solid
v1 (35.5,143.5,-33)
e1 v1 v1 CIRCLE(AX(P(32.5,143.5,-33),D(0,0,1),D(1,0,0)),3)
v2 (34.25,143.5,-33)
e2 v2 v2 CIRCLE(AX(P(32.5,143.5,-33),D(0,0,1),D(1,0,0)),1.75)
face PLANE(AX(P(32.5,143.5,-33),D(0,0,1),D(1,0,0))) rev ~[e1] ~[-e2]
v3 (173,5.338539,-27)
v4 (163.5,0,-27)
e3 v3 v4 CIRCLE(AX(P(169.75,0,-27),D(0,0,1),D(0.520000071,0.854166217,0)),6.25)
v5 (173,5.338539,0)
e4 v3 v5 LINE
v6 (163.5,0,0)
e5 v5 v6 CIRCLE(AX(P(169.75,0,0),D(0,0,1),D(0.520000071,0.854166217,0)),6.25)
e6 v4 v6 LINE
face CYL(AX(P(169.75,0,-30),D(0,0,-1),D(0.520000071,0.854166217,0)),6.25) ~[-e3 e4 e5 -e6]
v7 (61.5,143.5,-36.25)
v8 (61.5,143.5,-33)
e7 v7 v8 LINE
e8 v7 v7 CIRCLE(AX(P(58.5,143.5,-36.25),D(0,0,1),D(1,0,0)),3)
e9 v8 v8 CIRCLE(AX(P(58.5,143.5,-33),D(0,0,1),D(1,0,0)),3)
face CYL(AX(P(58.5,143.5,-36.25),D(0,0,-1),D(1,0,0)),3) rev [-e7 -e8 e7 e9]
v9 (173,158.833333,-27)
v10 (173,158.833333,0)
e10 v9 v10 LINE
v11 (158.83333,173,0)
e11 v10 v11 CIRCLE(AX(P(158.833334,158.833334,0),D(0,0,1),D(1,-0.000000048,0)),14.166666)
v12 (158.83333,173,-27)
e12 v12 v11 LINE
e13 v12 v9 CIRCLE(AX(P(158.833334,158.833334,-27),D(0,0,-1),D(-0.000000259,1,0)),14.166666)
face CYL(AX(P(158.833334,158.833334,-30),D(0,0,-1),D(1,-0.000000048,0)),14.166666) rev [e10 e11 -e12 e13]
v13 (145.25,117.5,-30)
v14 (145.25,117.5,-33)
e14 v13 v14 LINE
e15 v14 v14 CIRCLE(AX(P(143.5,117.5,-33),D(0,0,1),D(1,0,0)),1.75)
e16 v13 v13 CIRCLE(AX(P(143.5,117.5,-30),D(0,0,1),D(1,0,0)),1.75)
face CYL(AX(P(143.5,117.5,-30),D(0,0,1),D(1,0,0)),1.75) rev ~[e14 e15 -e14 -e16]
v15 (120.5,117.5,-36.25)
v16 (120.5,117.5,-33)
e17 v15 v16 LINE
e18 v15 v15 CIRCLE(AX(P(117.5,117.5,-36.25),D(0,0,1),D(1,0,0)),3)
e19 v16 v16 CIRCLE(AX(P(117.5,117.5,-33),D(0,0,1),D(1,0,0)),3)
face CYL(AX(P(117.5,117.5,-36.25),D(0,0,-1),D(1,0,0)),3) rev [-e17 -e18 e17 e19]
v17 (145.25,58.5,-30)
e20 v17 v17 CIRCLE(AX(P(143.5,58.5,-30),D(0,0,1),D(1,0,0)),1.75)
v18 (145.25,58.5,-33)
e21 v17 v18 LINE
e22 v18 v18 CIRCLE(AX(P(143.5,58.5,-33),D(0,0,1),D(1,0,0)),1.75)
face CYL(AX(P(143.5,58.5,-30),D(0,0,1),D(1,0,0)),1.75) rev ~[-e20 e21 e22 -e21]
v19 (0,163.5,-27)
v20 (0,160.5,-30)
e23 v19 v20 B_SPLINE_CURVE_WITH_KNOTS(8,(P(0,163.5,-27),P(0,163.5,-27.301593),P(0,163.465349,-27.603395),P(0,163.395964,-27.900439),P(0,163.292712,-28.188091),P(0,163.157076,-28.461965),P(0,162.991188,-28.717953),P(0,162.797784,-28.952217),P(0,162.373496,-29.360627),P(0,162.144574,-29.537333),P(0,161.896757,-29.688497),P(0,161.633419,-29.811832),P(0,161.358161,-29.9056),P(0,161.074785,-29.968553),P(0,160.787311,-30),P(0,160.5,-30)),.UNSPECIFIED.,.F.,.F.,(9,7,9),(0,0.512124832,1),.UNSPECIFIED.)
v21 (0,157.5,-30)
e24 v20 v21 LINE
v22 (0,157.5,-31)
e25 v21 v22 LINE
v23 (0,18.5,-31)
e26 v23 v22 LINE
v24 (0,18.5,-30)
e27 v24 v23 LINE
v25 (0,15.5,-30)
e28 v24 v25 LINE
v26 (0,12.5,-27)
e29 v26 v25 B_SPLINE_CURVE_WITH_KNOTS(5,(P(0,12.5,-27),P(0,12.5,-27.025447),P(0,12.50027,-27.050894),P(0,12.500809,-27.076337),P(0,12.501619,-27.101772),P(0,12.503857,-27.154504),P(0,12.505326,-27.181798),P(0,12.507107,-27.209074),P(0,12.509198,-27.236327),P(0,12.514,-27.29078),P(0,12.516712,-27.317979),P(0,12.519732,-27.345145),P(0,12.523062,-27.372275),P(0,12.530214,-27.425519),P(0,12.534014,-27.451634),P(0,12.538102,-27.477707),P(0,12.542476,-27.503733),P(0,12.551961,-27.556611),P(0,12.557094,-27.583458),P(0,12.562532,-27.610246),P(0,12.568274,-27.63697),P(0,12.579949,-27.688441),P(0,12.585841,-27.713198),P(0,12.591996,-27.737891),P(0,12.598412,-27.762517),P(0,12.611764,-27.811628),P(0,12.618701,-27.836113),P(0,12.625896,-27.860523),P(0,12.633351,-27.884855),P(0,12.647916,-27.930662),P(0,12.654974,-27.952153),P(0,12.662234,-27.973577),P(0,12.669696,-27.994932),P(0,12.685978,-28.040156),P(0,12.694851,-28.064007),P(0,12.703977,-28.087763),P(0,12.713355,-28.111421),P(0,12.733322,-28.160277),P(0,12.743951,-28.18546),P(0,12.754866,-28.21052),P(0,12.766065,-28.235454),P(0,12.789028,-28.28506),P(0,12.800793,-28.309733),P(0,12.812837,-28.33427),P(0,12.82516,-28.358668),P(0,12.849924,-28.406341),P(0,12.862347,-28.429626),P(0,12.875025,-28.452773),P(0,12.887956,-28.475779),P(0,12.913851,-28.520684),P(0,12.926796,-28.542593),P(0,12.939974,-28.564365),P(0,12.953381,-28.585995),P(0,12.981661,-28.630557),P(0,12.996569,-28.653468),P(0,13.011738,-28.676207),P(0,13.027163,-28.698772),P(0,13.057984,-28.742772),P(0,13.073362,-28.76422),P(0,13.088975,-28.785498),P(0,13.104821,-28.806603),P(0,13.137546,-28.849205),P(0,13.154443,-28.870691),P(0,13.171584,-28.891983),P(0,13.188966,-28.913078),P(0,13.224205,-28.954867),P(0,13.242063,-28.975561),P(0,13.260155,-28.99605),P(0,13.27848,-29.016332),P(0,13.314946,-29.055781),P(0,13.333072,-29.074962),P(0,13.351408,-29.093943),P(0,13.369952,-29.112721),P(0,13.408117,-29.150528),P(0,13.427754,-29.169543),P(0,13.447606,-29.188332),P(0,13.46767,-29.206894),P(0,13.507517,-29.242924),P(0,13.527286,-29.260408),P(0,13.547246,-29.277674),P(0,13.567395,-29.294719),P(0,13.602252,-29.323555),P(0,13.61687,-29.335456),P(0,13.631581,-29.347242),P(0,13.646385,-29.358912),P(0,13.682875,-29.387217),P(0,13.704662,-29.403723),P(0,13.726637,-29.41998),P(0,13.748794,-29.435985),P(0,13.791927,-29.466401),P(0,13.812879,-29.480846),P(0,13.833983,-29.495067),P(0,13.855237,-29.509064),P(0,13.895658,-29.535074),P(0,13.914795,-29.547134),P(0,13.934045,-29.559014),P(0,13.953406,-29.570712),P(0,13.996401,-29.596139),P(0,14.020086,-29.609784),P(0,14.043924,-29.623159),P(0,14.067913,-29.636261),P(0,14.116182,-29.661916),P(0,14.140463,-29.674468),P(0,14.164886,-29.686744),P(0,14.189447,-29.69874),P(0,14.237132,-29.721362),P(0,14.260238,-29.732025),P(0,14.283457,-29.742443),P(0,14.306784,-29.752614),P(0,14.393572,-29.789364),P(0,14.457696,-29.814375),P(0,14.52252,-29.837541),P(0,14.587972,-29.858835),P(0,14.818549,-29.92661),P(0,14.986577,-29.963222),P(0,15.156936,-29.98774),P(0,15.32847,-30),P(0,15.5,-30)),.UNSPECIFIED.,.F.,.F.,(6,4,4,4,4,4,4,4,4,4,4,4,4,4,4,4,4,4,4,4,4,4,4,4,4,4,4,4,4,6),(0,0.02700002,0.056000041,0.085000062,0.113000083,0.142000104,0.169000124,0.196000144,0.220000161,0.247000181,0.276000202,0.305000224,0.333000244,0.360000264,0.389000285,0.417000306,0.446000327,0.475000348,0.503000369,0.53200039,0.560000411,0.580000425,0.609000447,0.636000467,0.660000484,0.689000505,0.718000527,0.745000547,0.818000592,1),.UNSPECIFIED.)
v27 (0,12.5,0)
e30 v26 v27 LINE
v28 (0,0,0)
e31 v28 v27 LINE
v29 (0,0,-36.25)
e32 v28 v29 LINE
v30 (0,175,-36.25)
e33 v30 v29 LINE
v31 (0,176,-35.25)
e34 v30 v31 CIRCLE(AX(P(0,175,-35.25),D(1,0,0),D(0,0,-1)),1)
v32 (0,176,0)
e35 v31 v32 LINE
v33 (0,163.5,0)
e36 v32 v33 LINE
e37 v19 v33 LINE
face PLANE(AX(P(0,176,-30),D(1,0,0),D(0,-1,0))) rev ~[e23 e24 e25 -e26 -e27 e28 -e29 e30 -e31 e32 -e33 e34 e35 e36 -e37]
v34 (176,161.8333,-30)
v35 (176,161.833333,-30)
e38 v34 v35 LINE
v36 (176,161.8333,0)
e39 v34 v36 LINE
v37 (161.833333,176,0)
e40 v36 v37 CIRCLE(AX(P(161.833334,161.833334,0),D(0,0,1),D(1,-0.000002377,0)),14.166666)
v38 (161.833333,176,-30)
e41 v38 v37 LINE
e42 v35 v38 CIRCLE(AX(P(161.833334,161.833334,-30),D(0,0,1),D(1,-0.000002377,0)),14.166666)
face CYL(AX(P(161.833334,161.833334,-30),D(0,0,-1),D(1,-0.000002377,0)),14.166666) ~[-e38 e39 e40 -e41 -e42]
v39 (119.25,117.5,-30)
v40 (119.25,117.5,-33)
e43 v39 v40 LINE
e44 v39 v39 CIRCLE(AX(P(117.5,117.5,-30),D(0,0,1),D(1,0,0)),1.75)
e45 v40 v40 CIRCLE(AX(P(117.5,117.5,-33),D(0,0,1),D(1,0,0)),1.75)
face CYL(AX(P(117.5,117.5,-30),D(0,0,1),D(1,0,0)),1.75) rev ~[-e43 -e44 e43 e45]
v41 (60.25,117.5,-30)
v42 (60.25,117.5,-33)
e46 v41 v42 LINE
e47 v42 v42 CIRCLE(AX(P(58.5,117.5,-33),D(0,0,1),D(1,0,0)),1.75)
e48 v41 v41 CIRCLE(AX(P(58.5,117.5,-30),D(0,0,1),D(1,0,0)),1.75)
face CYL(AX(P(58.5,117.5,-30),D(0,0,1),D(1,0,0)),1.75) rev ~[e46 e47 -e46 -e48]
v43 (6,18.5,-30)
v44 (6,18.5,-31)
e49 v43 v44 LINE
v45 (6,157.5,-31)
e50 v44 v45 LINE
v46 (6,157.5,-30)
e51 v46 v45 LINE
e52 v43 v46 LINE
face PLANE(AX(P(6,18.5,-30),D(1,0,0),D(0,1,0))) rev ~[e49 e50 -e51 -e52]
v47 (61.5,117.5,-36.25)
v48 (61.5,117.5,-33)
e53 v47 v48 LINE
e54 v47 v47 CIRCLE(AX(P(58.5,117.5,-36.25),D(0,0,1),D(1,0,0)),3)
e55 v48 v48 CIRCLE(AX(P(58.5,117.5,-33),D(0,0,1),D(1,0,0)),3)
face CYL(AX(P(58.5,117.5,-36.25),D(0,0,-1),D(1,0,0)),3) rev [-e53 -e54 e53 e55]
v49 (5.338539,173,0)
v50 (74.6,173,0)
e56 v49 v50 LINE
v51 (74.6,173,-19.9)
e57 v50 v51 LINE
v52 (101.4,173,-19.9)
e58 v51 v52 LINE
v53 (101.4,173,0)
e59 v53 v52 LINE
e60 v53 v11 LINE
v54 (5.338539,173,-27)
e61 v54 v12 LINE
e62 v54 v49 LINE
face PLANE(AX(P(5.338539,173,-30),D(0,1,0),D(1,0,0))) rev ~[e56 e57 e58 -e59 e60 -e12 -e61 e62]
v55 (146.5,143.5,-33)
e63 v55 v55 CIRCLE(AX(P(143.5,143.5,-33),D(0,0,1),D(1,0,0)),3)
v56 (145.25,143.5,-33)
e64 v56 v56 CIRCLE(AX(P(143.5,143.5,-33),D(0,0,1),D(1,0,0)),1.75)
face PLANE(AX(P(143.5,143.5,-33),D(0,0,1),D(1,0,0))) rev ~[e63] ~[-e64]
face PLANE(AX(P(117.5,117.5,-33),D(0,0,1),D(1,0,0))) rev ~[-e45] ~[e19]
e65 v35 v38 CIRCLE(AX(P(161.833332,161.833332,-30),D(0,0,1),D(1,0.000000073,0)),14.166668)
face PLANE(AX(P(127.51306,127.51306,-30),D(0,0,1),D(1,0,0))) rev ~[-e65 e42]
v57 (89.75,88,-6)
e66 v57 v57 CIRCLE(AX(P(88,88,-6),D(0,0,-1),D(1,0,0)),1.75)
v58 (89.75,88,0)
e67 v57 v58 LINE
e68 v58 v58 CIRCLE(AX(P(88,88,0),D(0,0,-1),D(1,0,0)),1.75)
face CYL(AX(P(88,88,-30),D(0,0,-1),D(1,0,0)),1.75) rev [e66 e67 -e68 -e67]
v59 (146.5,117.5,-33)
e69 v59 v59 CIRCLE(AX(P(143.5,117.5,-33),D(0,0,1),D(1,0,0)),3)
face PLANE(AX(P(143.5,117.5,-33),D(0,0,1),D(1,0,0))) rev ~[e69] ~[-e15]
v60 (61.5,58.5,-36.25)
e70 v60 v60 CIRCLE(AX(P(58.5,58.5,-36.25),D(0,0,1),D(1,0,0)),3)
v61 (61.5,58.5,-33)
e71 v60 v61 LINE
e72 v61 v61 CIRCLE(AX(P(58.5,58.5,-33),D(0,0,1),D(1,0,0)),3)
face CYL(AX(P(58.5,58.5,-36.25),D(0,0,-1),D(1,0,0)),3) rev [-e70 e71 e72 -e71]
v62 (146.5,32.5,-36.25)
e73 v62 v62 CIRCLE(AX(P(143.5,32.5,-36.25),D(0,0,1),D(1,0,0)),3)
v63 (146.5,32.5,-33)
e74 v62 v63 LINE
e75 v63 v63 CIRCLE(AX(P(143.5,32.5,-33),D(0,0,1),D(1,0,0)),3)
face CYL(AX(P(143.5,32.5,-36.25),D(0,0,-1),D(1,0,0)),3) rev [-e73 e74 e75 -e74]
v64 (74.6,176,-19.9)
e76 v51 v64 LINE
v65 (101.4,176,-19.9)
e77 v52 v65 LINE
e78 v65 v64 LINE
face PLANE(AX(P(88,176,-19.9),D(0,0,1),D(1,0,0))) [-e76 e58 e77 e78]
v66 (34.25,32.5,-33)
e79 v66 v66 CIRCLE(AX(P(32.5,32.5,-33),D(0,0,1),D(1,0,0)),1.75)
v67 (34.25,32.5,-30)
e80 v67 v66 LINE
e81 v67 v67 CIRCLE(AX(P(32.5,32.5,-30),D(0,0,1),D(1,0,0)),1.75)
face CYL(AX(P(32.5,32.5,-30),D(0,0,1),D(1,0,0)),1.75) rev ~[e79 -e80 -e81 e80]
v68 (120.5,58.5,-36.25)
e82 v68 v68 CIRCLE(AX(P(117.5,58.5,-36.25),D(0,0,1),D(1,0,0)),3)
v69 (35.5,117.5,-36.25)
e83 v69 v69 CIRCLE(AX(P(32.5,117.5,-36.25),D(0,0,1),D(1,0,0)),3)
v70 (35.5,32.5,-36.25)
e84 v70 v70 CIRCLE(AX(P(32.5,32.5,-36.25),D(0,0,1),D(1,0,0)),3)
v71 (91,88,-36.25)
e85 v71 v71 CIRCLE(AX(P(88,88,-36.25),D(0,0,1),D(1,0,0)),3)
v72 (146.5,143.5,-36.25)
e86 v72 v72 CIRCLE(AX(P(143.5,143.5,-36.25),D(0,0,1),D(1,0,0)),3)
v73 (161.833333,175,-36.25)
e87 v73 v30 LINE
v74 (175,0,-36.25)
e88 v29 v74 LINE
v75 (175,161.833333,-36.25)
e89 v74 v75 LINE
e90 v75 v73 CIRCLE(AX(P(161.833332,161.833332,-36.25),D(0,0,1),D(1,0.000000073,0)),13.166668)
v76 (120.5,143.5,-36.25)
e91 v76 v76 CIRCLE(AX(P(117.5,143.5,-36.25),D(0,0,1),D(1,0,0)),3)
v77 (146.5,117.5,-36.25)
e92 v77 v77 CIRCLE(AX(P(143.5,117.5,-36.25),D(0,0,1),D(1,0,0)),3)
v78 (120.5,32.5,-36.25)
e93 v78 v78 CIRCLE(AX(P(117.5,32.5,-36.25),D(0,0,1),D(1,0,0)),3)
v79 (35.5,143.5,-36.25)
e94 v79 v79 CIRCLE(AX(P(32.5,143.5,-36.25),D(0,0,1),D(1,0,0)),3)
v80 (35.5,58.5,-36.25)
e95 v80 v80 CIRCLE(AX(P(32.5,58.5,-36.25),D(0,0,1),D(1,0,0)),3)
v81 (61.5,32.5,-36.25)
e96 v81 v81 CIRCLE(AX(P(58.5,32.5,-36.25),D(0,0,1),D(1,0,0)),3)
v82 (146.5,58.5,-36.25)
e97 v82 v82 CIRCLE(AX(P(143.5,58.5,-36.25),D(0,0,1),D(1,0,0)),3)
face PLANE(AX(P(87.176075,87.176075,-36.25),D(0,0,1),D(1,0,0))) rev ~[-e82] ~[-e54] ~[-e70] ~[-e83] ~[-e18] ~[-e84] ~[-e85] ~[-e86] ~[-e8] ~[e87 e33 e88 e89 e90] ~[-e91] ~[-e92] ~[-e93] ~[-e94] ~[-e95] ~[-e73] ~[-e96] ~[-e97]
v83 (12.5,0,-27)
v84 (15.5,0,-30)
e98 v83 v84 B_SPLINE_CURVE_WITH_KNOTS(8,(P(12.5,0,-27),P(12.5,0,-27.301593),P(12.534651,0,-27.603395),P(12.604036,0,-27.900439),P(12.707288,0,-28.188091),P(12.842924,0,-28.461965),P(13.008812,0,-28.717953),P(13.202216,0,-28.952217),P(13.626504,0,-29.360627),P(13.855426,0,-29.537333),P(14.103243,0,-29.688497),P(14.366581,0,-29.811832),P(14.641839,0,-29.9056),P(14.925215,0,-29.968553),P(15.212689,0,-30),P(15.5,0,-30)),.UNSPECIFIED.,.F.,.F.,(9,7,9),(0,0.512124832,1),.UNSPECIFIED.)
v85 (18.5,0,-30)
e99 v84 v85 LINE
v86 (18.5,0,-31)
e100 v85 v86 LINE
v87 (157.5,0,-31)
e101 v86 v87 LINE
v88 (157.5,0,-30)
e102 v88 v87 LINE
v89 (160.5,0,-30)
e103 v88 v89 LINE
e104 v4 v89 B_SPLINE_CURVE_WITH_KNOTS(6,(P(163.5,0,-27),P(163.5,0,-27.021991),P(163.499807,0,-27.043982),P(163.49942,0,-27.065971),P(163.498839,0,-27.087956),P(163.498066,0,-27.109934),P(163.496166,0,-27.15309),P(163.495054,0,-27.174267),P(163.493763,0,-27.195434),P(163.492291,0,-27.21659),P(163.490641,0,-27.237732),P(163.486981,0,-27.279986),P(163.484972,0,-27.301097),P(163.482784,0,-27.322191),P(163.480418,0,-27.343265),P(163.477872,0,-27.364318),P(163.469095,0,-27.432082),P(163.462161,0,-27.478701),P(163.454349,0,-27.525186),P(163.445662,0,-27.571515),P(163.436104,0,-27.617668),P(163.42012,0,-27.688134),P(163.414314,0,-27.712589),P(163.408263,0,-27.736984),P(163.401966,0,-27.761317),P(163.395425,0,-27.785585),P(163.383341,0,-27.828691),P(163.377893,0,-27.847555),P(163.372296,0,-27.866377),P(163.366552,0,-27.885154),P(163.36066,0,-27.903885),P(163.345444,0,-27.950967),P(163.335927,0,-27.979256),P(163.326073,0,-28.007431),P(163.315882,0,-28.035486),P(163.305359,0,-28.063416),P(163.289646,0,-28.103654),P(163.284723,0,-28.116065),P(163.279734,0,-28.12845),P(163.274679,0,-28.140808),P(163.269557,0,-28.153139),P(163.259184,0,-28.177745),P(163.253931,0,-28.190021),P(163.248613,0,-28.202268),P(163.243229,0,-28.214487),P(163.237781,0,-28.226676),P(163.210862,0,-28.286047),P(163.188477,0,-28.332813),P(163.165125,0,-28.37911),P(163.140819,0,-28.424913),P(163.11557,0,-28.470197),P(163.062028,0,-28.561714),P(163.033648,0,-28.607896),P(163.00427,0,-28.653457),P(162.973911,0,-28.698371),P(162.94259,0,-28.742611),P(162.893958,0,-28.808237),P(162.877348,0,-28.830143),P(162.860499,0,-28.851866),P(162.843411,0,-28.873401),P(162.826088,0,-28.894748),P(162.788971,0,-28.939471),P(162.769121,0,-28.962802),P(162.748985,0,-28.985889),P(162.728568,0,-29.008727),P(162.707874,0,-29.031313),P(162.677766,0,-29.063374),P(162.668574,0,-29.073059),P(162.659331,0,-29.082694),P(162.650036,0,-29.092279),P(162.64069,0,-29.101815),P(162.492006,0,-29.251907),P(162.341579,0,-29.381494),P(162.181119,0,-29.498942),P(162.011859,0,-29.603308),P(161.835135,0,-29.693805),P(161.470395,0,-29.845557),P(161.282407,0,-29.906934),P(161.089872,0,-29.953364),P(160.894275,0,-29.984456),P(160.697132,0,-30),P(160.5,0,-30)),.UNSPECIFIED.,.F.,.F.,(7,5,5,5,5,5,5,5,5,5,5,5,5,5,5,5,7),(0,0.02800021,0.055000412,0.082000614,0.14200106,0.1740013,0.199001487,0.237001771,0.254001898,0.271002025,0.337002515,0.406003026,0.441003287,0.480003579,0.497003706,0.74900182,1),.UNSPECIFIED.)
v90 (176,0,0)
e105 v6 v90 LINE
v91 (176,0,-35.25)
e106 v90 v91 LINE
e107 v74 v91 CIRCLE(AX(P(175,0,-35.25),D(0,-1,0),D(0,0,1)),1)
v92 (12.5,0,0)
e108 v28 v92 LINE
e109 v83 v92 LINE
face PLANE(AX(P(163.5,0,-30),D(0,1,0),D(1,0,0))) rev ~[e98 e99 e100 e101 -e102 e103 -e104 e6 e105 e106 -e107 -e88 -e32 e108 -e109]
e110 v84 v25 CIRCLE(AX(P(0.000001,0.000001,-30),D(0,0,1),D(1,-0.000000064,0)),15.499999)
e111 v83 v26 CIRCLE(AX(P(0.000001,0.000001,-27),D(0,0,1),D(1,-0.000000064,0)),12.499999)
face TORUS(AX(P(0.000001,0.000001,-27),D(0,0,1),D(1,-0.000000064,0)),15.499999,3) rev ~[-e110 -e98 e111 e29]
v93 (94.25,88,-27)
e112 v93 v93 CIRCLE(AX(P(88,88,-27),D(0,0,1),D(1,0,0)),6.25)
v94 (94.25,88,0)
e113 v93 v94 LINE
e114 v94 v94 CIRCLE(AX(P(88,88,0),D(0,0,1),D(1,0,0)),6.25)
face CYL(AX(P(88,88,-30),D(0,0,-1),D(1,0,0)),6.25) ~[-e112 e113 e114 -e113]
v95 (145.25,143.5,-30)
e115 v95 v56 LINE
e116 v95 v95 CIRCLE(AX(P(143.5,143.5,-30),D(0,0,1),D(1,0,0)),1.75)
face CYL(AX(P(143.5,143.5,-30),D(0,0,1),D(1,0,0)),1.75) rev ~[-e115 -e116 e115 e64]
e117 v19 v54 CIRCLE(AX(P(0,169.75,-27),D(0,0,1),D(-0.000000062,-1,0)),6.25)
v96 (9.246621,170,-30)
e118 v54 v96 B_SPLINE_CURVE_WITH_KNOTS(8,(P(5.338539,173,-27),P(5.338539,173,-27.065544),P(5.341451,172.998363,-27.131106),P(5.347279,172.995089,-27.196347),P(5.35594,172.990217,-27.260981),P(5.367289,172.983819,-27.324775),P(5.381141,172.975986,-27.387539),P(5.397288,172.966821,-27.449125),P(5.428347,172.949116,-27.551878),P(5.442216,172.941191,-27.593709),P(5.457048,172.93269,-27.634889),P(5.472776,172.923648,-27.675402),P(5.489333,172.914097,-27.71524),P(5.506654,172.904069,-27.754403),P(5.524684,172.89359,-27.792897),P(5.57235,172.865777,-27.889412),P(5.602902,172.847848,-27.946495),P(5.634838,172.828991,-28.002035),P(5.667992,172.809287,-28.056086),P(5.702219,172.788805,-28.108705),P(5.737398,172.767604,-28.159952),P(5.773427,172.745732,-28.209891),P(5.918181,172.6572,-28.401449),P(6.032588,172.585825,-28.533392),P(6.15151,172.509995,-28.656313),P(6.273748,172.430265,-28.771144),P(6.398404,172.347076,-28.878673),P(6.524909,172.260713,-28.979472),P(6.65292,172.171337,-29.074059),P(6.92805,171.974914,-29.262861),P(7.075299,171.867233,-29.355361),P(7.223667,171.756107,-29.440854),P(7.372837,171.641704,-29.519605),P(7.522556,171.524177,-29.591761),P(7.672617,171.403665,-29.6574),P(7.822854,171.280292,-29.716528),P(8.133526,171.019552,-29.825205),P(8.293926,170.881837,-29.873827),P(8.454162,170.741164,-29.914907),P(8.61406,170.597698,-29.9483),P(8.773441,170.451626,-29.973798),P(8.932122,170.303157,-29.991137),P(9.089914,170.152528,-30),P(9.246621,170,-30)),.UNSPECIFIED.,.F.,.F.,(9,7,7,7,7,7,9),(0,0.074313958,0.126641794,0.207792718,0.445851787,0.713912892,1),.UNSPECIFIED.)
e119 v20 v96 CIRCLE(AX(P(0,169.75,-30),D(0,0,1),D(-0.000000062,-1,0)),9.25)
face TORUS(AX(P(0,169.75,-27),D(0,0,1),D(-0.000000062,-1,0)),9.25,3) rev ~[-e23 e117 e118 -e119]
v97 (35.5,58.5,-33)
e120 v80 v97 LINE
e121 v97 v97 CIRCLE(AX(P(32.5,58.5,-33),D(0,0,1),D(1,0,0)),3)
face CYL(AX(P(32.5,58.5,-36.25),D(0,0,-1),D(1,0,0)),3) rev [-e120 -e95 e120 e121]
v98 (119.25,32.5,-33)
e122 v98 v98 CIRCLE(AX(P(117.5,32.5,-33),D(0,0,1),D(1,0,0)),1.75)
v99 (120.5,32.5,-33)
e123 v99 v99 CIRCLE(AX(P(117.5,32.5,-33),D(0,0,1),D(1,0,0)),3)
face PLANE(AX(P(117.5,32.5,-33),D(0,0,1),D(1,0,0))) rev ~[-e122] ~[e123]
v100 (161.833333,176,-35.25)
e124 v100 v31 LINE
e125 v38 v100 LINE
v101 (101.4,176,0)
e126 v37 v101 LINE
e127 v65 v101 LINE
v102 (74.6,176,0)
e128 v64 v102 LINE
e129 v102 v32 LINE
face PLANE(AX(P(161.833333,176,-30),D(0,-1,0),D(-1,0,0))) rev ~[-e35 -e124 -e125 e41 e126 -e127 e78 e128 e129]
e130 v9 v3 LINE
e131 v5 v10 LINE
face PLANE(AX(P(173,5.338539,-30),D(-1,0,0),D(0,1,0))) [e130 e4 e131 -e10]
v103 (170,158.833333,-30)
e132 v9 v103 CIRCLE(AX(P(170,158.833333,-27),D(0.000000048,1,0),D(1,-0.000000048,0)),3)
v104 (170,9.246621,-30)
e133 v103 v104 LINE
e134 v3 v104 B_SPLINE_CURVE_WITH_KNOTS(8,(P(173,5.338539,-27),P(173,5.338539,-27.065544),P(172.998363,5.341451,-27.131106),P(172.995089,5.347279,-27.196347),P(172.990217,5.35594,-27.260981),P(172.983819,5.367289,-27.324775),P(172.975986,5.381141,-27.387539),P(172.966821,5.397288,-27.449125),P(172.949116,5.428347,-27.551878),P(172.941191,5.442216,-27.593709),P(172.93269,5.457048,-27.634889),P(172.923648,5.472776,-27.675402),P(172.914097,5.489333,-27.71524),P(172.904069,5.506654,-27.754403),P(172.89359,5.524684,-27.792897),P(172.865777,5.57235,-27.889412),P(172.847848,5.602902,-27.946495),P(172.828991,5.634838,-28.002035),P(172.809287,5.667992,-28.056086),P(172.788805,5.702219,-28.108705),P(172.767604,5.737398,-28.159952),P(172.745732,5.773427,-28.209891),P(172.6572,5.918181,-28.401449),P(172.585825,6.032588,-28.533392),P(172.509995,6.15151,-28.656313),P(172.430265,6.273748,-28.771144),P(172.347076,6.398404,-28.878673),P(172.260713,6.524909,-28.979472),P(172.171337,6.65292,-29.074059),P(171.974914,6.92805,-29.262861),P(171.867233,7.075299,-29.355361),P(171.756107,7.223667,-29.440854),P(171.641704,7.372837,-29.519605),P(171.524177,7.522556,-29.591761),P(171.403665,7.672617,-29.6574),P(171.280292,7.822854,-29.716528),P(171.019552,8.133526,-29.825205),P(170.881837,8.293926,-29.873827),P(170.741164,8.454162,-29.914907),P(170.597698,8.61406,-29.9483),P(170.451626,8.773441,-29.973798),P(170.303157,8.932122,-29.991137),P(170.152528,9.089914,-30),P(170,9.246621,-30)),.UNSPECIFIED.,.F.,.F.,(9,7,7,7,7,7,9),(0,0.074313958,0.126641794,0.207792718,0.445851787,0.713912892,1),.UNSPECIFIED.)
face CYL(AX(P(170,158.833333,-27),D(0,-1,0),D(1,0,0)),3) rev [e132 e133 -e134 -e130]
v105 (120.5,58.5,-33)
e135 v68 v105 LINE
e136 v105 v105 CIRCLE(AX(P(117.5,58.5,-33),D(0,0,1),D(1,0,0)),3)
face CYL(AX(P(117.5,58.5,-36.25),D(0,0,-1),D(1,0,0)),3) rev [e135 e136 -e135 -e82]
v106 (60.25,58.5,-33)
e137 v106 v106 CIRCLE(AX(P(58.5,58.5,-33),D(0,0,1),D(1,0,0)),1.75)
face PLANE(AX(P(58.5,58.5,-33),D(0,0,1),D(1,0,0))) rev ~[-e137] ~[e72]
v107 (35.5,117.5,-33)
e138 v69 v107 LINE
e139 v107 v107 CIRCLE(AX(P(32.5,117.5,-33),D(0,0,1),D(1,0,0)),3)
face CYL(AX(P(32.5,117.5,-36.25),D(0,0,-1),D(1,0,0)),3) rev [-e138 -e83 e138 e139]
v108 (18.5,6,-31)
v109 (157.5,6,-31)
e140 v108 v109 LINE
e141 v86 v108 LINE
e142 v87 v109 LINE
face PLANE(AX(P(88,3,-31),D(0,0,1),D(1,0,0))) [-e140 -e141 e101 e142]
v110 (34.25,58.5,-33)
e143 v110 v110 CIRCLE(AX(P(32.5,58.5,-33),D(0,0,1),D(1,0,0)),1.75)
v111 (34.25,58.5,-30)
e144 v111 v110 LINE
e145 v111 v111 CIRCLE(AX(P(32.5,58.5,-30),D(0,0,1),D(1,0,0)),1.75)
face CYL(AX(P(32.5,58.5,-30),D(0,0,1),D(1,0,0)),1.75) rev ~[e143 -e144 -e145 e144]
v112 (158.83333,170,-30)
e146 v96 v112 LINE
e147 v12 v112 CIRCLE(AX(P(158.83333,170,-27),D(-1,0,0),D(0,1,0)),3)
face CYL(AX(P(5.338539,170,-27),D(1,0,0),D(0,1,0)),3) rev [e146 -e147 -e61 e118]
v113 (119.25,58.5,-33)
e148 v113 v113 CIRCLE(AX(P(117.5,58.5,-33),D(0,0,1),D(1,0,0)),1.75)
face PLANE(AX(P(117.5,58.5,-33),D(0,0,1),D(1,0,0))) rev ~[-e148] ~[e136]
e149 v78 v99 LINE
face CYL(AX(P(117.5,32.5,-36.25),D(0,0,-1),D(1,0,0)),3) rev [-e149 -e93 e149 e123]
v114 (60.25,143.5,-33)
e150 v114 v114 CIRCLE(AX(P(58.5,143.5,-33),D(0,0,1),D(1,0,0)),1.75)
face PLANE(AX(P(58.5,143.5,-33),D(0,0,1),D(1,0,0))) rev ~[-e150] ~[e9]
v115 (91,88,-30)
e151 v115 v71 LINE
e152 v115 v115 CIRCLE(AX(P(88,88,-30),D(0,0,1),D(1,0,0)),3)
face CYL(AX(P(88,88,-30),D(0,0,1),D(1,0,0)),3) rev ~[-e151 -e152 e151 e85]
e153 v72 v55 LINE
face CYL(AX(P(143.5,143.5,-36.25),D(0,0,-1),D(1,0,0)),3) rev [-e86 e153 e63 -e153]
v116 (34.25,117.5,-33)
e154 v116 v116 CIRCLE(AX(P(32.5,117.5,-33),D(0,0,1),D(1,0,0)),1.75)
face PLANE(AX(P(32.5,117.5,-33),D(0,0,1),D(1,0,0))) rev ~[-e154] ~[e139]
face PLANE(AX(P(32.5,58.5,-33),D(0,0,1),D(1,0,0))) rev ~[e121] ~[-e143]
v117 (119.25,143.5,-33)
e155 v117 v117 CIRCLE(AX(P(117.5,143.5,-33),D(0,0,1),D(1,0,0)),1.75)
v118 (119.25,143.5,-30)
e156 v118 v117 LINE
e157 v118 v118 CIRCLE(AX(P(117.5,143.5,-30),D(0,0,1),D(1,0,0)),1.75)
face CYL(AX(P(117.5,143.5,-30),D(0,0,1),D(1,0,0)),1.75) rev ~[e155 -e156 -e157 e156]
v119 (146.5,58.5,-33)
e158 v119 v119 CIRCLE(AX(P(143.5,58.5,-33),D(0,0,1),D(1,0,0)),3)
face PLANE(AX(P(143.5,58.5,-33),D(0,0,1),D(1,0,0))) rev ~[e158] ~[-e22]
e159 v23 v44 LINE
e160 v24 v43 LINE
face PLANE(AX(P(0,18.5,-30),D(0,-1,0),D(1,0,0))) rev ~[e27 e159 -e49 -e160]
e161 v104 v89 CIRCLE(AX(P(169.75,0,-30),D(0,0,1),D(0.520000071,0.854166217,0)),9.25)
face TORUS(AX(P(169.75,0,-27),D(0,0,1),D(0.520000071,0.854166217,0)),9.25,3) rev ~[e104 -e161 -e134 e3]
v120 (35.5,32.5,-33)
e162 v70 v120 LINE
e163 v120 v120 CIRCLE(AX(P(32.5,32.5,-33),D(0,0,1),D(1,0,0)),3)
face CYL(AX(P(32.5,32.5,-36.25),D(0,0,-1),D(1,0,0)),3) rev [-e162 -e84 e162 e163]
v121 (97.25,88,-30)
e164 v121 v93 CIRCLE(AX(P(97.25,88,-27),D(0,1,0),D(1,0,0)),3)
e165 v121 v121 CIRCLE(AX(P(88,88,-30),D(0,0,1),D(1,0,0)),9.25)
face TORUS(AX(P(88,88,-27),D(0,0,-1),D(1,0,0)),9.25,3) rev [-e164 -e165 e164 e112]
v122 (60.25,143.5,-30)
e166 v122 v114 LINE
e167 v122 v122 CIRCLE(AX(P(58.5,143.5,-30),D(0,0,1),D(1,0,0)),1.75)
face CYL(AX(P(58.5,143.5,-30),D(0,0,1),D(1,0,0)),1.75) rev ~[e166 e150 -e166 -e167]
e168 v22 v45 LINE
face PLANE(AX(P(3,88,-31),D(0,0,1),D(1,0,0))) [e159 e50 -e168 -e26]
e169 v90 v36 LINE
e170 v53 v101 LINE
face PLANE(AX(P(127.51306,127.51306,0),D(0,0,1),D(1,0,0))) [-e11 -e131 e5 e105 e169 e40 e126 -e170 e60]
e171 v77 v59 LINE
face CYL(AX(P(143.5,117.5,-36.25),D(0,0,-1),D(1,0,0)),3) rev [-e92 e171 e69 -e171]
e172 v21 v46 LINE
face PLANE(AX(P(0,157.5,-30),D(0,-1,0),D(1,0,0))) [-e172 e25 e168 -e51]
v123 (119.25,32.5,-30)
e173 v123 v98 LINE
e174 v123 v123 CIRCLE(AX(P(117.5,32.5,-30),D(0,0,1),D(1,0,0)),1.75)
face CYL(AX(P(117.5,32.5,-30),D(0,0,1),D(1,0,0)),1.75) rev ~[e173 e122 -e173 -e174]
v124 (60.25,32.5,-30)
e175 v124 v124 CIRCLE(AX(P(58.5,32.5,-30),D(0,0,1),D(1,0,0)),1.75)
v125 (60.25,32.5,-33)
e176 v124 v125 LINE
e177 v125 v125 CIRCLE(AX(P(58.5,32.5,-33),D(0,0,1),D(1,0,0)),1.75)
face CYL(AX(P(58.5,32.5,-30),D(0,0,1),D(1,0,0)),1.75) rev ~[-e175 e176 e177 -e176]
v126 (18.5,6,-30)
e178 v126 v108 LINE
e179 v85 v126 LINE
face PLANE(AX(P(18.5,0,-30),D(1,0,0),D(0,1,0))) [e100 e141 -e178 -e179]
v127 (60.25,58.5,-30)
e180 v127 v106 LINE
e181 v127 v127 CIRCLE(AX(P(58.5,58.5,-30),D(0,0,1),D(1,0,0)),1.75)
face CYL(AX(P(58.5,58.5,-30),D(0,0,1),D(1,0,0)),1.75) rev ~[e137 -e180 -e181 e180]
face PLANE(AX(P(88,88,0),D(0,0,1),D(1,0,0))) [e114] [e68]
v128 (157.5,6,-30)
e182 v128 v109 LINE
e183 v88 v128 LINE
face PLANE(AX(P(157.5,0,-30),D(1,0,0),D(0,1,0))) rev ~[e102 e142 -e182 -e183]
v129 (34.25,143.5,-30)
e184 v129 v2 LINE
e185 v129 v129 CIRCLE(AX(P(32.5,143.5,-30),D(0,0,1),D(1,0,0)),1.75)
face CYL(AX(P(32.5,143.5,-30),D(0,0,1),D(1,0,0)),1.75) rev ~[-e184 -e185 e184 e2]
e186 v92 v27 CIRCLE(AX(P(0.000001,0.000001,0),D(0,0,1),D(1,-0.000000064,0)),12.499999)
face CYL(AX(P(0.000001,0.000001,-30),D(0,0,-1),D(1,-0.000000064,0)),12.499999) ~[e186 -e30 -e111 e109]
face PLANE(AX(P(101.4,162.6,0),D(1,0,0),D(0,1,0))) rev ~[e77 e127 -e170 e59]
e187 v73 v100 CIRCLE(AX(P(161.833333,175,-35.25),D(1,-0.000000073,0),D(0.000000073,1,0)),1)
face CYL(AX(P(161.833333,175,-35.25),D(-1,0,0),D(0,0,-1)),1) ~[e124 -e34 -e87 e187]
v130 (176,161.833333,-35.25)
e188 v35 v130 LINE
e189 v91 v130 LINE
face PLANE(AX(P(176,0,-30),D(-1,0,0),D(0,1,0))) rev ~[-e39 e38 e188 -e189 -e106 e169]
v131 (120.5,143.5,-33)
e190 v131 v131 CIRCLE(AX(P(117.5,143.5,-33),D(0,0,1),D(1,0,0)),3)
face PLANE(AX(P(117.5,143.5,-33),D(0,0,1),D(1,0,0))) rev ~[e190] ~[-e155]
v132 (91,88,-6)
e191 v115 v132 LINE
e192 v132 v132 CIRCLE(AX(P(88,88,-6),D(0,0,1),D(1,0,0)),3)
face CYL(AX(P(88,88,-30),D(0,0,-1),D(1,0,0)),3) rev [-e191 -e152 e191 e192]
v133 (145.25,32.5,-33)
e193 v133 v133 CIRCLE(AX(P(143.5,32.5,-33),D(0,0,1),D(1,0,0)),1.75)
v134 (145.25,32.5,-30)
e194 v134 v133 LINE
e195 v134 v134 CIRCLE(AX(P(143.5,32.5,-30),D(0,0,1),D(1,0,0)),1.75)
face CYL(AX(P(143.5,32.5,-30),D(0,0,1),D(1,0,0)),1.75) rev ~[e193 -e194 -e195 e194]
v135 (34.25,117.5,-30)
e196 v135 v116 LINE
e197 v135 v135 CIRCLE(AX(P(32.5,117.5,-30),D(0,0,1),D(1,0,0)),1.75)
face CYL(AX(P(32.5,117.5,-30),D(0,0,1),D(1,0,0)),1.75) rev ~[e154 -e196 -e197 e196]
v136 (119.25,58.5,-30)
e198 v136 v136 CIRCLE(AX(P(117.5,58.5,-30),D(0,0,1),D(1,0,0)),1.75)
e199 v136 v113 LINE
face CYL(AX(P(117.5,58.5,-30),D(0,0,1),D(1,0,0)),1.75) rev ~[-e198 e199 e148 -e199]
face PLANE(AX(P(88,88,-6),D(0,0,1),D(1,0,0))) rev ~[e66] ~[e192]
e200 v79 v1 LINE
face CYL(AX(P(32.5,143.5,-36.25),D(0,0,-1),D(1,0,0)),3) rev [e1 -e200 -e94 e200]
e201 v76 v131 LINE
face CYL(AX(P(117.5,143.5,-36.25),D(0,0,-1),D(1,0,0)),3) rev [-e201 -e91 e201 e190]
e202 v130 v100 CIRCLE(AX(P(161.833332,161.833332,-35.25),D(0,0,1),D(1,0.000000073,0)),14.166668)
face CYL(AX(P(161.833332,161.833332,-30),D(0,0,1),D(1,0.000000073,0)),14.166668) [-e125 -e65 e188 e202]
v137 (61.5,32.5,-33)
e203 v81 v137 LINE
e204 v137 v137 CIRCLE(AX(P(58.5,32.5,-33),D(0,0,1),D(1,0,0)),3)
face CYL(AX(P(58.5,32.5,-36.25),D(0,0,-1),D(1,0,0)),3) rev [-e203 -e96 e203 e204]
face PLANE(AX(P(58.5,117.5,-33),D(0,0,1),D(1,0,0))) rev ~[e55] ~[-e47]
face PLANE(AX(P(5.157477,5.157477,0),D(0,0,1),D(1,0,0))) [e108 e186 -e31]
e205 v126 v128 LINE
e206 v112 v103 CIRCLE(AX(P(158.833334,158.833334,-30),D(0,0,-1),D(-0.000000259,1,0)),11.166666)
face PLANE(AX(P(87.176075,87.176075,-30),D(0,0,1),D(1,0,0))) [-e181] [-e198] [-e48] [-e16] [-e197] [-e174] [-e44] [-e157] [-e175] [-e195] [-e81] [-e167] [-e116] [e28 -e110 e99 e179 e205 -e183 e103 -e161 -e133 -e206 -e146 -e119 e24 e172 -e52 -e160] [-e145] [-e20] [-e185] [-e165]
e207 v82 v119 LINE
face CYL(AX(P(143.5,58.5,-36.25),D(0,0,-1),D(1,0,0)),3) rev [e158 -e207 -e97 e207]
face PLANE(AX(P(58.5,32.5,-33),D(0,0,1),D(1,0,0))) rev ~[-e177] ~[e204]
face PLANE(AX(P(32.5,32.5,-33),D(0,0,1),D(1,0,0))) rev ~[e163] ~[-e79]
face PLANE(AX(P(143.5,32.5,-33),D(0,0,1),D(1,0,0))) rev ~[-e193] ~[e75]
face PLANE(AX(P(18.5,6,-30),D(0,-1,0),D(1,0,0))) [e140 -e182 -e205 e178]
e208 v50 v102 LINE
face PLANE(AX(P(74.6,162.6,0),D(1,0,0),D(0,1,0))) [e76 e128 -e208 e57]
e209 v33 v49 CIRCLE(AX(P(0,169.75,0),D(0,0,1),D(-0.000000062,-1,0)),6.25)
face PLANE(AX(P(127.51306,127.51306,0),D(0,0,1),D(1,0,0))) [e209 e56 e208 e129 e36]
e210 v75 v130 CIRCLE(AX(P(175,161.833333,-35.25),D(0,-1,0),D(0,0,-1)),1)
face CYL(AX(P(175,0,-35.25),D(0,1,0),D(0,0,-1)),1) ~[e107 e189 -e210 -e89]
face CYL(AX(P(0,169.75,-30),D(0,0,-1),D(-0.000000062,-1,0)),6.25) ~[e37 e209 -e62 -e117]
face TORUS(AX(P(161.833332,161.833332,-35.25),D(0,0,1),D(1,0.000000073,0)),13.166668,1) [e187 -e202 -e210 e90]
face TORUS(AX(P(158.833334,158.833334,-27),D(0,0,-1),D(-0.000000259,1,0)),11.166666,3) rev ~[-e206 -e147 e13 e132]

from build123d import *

# Parameters (mm, degrees)
PAD010_DEPTH         = 6.25
SKETCH022_R          = 6.25
PAD011_DEPTH         = 30
SKETCH023_R          = 1.75
POCKET010_DEPTH      = 100
POCKET010_DEPTH_BACK = 100
SKETCH024_R          = 3
POCKET011_DEPTH      = 3.25
FILLET008_R          = 3
FILLET009_R          = 1
SKETCH025_W          = 6
SKETCH025_H          = 139
SKETCH025_W_2        = 139
SKETCH025_H_2        = 6
POCKET012_DEPTH      = 1
SKETCH026_R          = 3
POCKET013_DEPTH      = 100
POCKET013_DEPTH_BACK = 24
SKETCH027_R          = 1.75
POCKET014_DEPTH      = 100
POCKET014_DEPTH_BACK = 100
SKETCH069_W          = 26.8
SKETCH069_H          = 26.8
POCKET032_DEPTH      = 19.9


with BuildPart() as part:
    # Sketch021 → Pad010 (new body)
    with BuildSketch(Plane.XY):
        with BuildLine():
            Line((73.833333, 88), (-88, 88))
            Line((-88, 88), (-88, -88))
            Line((-88, -88), (88, -88))
            Line((88, -88), (88, 73.833333))
            ThreePointArc((88, 73.833333), (83.850679, 83.850679), (73.833333, 88))
        make_face()
    extrude(amount=-PAD010_DEPTH)

    # Sketch022 → Pad011 (join)
    with BuildSketch(Plane.XY):
        Circle(SKETCH022_R)
        with BuildLine():
            ThreePointArc((88, 73.8333), (83.850691, 83.850668), (73.833333, 88))
            Line((73.833333, 88), (-88, 88))
            Line((-88, 88), (-88, 75.5))
            ThreePointArc((-88, 75.5), (-82.551376, 78.688138), (-82.661461, 85))
            Line((-82.661461, 85), (70.83333, 85))
            ThreePointArc((85, 70.833333), (80.850678, 80.850681), (70.83333, 85))
            Line((85, -82.661461), (85, 70.833333))
            ThreePointArc((85, -82.661461), (78.688138, -82.551376), (75.5, -88))
            Line((75.5, -88), (88, -88))
            Line((88, -88), (88, 73.8333))
        make_face()
        with BuildLine():
            ThreePointArc((-75.5, -88), (-79.161165, -79.161165), (-88, -75.5))
            Line((-88, -88), (-88, -75.5))
            Line((-88, -88), (-75.5, -88))
        make_face()
    extrude(amount=PAD011_DEPTH)

    # Sketch023 → Pocket010 (cut, two sides)
    with BuildSketch(Plane.XY) as pocket010_sk:
        with Locations((-55.5, 55.5)):
            Circle(SKETCH023_R)
        with Locations((-29.5, 55.5)):
            Circle(SKETCH023_R)
        with Locations((-29.5, 29.5)):
            Circle(SKETCH023_R)
        with Locations((-55.5, 29.5)):
            Circle(SKETCH023_R)
        with Locations((29.5, 55.5)):
            Circle(SKETCH023_R)
        with Locations((55.5, 55.5)):
            Circle(SKETCH023_R)
        with Locations((55.5, 29.5)):
            Circle(SKETCH023_R)
        with Locations((29.5, 29.5)):
            Circle(SKETCH023_R)
        with Locations((29.5, -29.5)):
            Circle(SKETCH023_R)
        with Locations((55.5, -29.5)):
            Circle(SKETCH023_R)
        with Locations((55.5, -55.5)):
            Circle(SKETCH023_R)
        with Locations((29.5, -55.5)):
            Circle(SKETCH023_R)
        with Locations((-55.5, -29.5)):
            Circle(SKETCH023_R)
        with Locations((-29.5, -29.5)):
            Circle(SKETCH023_R)
        with Locations((-29.5, -55.5)):
            Circle(SKETCH023_R)
        with Locations((-55.5, -55.5)):
            Circle(SKETCH023_R)
    extrude(amount=-POCKET010_DEPTH, mode=Mode.SUBTRACT)
    extrude(pocket010_sk.sketch, amount=POCKET010_DEPTH_BACK, mode=Mode.SUBTRACT)

    # Sketch024 → Pocket011 (cut)
    with BuildSketch(Plane.XY.offset(-6.25)):
        with Locations((-55.5, 55.5)):
            Circle(SKETCH024_R)
        with Locations((-29.5, 55.5)):
            Circle(SKETCH024_R)
        with Locations((-29.5, 29.5)):
            Circle(SKETCH024_R)
        with Locations((-55.5, 29.5)):
            Circle(SKETCH024_R)
        with Locations((29.5, 55.5)):
            Circle(SKETCH024_R)
        with Locations((55.5, 55.5)):
            Circle(SKETCH024_R)
        with Locations((55.5, 29.5)):
            Circle(SKETCH024_R)
        with Locations((29.5, 29.5)):
            Circle(SKETCH024_R)
        with Locations((29.5, -29.5)):
            Circle(SKETCH024_R)
        with Locations((55.5, -29.5)):
            Circle(SKETCH024_R)
        with Locations((55.5, -55.5)):
            Circle(SKETCH024_R)
        with Locations((29.5, -55.5)):
            Circle(SKETCH024_R)
        with Locations((-55.5, -29.5)):
            Circle(SKETCH024_R)
        with Locations((-29.5, -29.5)):
            Circle(SKETCH024_R)
        with Locations((-29.5, -55.5)):
            Circle(SKETCH024_R)
        with Locations((-55.5, -55.5)):
            Circle(SKETCH024_R)
    extrude(amount=POCKET011_DEPTH, mode=Mode.SUBTRACT)

    # Fillet008
    fillet008_edges = [part.edges().sort_by_distance(p)[0] for p in [
        (-6.25, 0, 0),
        (-82.551376, 78.688138, 0),
        (78.688138, -82.551376, 0),
        (-79.161165, -79.161165, 0),
        (-5.914065, 85, 0),
    ]]
    fillet(fillet008_edges, radius=FILLET008_R)

    # Fillet009
    fillet009_edges = [part.edges().sort_by_distance(p)[0] for p in [
        (-7.083333, 88, -6.25),
    ]]
    fillet(fillet009_edges, radius=FILLET009_R)

    # Sketch025 → Pocket012 (cut)
    with BuildSketch(Plane.XY):
        with Locations((-85, 0)):
            Rectangle(SKETCH025_W, SKETCH025_H)
        with Locations((0, -85)):
            Rectangle(SKETCH025_W_2, SKETCH025_H_2)
    extrude(amount=-POCKET012_DEPTH, mode=Mode.SUBTRACT)

    # Sketch026 → Pocket013 (cut, two sides)
    with BuildSketch(Plane.XY) as pocket013_sk:
        Circle(SKETCH026_R)
    extrude(amount=-POCKET013_DEPTH, mode=Mode.SUBTRACT)
    extrude(pocket013_sk.sketch, amount=POCKET013_DEPTH_BACK, mode=Mode.SUBTRACT)

    # Sketch027 → Pocket014 (cut, two sides)
    with BuildSketch(Plane.XY) as pocket014_sk:
        Circle(SKETCH027_R)
    extrude(amount=-POCKET014_DEPTH, mode=Mode.SUBTRACT)
    extrude(pocket014_sk.sketch, amount=POCKET014_DEPTH_BACK, mode=Mode.SUBTRACT)

    # Sketch069 → Pocket032 (cut)
    with BuildSketch(Plane.XY.offset(30)):
        with Locations((0, 88)):
            Rectangle(SKETCH069_W, SKETCH069_H)
    extrude(amount=-POCKET032_DEPTH, mode=Mode.SUBTRACT)


with BuildPart() as part_1:
    # Body004 placement: moved
    add(part.part.moved(Location((88, 88, -30))))


solid = part_1.part
